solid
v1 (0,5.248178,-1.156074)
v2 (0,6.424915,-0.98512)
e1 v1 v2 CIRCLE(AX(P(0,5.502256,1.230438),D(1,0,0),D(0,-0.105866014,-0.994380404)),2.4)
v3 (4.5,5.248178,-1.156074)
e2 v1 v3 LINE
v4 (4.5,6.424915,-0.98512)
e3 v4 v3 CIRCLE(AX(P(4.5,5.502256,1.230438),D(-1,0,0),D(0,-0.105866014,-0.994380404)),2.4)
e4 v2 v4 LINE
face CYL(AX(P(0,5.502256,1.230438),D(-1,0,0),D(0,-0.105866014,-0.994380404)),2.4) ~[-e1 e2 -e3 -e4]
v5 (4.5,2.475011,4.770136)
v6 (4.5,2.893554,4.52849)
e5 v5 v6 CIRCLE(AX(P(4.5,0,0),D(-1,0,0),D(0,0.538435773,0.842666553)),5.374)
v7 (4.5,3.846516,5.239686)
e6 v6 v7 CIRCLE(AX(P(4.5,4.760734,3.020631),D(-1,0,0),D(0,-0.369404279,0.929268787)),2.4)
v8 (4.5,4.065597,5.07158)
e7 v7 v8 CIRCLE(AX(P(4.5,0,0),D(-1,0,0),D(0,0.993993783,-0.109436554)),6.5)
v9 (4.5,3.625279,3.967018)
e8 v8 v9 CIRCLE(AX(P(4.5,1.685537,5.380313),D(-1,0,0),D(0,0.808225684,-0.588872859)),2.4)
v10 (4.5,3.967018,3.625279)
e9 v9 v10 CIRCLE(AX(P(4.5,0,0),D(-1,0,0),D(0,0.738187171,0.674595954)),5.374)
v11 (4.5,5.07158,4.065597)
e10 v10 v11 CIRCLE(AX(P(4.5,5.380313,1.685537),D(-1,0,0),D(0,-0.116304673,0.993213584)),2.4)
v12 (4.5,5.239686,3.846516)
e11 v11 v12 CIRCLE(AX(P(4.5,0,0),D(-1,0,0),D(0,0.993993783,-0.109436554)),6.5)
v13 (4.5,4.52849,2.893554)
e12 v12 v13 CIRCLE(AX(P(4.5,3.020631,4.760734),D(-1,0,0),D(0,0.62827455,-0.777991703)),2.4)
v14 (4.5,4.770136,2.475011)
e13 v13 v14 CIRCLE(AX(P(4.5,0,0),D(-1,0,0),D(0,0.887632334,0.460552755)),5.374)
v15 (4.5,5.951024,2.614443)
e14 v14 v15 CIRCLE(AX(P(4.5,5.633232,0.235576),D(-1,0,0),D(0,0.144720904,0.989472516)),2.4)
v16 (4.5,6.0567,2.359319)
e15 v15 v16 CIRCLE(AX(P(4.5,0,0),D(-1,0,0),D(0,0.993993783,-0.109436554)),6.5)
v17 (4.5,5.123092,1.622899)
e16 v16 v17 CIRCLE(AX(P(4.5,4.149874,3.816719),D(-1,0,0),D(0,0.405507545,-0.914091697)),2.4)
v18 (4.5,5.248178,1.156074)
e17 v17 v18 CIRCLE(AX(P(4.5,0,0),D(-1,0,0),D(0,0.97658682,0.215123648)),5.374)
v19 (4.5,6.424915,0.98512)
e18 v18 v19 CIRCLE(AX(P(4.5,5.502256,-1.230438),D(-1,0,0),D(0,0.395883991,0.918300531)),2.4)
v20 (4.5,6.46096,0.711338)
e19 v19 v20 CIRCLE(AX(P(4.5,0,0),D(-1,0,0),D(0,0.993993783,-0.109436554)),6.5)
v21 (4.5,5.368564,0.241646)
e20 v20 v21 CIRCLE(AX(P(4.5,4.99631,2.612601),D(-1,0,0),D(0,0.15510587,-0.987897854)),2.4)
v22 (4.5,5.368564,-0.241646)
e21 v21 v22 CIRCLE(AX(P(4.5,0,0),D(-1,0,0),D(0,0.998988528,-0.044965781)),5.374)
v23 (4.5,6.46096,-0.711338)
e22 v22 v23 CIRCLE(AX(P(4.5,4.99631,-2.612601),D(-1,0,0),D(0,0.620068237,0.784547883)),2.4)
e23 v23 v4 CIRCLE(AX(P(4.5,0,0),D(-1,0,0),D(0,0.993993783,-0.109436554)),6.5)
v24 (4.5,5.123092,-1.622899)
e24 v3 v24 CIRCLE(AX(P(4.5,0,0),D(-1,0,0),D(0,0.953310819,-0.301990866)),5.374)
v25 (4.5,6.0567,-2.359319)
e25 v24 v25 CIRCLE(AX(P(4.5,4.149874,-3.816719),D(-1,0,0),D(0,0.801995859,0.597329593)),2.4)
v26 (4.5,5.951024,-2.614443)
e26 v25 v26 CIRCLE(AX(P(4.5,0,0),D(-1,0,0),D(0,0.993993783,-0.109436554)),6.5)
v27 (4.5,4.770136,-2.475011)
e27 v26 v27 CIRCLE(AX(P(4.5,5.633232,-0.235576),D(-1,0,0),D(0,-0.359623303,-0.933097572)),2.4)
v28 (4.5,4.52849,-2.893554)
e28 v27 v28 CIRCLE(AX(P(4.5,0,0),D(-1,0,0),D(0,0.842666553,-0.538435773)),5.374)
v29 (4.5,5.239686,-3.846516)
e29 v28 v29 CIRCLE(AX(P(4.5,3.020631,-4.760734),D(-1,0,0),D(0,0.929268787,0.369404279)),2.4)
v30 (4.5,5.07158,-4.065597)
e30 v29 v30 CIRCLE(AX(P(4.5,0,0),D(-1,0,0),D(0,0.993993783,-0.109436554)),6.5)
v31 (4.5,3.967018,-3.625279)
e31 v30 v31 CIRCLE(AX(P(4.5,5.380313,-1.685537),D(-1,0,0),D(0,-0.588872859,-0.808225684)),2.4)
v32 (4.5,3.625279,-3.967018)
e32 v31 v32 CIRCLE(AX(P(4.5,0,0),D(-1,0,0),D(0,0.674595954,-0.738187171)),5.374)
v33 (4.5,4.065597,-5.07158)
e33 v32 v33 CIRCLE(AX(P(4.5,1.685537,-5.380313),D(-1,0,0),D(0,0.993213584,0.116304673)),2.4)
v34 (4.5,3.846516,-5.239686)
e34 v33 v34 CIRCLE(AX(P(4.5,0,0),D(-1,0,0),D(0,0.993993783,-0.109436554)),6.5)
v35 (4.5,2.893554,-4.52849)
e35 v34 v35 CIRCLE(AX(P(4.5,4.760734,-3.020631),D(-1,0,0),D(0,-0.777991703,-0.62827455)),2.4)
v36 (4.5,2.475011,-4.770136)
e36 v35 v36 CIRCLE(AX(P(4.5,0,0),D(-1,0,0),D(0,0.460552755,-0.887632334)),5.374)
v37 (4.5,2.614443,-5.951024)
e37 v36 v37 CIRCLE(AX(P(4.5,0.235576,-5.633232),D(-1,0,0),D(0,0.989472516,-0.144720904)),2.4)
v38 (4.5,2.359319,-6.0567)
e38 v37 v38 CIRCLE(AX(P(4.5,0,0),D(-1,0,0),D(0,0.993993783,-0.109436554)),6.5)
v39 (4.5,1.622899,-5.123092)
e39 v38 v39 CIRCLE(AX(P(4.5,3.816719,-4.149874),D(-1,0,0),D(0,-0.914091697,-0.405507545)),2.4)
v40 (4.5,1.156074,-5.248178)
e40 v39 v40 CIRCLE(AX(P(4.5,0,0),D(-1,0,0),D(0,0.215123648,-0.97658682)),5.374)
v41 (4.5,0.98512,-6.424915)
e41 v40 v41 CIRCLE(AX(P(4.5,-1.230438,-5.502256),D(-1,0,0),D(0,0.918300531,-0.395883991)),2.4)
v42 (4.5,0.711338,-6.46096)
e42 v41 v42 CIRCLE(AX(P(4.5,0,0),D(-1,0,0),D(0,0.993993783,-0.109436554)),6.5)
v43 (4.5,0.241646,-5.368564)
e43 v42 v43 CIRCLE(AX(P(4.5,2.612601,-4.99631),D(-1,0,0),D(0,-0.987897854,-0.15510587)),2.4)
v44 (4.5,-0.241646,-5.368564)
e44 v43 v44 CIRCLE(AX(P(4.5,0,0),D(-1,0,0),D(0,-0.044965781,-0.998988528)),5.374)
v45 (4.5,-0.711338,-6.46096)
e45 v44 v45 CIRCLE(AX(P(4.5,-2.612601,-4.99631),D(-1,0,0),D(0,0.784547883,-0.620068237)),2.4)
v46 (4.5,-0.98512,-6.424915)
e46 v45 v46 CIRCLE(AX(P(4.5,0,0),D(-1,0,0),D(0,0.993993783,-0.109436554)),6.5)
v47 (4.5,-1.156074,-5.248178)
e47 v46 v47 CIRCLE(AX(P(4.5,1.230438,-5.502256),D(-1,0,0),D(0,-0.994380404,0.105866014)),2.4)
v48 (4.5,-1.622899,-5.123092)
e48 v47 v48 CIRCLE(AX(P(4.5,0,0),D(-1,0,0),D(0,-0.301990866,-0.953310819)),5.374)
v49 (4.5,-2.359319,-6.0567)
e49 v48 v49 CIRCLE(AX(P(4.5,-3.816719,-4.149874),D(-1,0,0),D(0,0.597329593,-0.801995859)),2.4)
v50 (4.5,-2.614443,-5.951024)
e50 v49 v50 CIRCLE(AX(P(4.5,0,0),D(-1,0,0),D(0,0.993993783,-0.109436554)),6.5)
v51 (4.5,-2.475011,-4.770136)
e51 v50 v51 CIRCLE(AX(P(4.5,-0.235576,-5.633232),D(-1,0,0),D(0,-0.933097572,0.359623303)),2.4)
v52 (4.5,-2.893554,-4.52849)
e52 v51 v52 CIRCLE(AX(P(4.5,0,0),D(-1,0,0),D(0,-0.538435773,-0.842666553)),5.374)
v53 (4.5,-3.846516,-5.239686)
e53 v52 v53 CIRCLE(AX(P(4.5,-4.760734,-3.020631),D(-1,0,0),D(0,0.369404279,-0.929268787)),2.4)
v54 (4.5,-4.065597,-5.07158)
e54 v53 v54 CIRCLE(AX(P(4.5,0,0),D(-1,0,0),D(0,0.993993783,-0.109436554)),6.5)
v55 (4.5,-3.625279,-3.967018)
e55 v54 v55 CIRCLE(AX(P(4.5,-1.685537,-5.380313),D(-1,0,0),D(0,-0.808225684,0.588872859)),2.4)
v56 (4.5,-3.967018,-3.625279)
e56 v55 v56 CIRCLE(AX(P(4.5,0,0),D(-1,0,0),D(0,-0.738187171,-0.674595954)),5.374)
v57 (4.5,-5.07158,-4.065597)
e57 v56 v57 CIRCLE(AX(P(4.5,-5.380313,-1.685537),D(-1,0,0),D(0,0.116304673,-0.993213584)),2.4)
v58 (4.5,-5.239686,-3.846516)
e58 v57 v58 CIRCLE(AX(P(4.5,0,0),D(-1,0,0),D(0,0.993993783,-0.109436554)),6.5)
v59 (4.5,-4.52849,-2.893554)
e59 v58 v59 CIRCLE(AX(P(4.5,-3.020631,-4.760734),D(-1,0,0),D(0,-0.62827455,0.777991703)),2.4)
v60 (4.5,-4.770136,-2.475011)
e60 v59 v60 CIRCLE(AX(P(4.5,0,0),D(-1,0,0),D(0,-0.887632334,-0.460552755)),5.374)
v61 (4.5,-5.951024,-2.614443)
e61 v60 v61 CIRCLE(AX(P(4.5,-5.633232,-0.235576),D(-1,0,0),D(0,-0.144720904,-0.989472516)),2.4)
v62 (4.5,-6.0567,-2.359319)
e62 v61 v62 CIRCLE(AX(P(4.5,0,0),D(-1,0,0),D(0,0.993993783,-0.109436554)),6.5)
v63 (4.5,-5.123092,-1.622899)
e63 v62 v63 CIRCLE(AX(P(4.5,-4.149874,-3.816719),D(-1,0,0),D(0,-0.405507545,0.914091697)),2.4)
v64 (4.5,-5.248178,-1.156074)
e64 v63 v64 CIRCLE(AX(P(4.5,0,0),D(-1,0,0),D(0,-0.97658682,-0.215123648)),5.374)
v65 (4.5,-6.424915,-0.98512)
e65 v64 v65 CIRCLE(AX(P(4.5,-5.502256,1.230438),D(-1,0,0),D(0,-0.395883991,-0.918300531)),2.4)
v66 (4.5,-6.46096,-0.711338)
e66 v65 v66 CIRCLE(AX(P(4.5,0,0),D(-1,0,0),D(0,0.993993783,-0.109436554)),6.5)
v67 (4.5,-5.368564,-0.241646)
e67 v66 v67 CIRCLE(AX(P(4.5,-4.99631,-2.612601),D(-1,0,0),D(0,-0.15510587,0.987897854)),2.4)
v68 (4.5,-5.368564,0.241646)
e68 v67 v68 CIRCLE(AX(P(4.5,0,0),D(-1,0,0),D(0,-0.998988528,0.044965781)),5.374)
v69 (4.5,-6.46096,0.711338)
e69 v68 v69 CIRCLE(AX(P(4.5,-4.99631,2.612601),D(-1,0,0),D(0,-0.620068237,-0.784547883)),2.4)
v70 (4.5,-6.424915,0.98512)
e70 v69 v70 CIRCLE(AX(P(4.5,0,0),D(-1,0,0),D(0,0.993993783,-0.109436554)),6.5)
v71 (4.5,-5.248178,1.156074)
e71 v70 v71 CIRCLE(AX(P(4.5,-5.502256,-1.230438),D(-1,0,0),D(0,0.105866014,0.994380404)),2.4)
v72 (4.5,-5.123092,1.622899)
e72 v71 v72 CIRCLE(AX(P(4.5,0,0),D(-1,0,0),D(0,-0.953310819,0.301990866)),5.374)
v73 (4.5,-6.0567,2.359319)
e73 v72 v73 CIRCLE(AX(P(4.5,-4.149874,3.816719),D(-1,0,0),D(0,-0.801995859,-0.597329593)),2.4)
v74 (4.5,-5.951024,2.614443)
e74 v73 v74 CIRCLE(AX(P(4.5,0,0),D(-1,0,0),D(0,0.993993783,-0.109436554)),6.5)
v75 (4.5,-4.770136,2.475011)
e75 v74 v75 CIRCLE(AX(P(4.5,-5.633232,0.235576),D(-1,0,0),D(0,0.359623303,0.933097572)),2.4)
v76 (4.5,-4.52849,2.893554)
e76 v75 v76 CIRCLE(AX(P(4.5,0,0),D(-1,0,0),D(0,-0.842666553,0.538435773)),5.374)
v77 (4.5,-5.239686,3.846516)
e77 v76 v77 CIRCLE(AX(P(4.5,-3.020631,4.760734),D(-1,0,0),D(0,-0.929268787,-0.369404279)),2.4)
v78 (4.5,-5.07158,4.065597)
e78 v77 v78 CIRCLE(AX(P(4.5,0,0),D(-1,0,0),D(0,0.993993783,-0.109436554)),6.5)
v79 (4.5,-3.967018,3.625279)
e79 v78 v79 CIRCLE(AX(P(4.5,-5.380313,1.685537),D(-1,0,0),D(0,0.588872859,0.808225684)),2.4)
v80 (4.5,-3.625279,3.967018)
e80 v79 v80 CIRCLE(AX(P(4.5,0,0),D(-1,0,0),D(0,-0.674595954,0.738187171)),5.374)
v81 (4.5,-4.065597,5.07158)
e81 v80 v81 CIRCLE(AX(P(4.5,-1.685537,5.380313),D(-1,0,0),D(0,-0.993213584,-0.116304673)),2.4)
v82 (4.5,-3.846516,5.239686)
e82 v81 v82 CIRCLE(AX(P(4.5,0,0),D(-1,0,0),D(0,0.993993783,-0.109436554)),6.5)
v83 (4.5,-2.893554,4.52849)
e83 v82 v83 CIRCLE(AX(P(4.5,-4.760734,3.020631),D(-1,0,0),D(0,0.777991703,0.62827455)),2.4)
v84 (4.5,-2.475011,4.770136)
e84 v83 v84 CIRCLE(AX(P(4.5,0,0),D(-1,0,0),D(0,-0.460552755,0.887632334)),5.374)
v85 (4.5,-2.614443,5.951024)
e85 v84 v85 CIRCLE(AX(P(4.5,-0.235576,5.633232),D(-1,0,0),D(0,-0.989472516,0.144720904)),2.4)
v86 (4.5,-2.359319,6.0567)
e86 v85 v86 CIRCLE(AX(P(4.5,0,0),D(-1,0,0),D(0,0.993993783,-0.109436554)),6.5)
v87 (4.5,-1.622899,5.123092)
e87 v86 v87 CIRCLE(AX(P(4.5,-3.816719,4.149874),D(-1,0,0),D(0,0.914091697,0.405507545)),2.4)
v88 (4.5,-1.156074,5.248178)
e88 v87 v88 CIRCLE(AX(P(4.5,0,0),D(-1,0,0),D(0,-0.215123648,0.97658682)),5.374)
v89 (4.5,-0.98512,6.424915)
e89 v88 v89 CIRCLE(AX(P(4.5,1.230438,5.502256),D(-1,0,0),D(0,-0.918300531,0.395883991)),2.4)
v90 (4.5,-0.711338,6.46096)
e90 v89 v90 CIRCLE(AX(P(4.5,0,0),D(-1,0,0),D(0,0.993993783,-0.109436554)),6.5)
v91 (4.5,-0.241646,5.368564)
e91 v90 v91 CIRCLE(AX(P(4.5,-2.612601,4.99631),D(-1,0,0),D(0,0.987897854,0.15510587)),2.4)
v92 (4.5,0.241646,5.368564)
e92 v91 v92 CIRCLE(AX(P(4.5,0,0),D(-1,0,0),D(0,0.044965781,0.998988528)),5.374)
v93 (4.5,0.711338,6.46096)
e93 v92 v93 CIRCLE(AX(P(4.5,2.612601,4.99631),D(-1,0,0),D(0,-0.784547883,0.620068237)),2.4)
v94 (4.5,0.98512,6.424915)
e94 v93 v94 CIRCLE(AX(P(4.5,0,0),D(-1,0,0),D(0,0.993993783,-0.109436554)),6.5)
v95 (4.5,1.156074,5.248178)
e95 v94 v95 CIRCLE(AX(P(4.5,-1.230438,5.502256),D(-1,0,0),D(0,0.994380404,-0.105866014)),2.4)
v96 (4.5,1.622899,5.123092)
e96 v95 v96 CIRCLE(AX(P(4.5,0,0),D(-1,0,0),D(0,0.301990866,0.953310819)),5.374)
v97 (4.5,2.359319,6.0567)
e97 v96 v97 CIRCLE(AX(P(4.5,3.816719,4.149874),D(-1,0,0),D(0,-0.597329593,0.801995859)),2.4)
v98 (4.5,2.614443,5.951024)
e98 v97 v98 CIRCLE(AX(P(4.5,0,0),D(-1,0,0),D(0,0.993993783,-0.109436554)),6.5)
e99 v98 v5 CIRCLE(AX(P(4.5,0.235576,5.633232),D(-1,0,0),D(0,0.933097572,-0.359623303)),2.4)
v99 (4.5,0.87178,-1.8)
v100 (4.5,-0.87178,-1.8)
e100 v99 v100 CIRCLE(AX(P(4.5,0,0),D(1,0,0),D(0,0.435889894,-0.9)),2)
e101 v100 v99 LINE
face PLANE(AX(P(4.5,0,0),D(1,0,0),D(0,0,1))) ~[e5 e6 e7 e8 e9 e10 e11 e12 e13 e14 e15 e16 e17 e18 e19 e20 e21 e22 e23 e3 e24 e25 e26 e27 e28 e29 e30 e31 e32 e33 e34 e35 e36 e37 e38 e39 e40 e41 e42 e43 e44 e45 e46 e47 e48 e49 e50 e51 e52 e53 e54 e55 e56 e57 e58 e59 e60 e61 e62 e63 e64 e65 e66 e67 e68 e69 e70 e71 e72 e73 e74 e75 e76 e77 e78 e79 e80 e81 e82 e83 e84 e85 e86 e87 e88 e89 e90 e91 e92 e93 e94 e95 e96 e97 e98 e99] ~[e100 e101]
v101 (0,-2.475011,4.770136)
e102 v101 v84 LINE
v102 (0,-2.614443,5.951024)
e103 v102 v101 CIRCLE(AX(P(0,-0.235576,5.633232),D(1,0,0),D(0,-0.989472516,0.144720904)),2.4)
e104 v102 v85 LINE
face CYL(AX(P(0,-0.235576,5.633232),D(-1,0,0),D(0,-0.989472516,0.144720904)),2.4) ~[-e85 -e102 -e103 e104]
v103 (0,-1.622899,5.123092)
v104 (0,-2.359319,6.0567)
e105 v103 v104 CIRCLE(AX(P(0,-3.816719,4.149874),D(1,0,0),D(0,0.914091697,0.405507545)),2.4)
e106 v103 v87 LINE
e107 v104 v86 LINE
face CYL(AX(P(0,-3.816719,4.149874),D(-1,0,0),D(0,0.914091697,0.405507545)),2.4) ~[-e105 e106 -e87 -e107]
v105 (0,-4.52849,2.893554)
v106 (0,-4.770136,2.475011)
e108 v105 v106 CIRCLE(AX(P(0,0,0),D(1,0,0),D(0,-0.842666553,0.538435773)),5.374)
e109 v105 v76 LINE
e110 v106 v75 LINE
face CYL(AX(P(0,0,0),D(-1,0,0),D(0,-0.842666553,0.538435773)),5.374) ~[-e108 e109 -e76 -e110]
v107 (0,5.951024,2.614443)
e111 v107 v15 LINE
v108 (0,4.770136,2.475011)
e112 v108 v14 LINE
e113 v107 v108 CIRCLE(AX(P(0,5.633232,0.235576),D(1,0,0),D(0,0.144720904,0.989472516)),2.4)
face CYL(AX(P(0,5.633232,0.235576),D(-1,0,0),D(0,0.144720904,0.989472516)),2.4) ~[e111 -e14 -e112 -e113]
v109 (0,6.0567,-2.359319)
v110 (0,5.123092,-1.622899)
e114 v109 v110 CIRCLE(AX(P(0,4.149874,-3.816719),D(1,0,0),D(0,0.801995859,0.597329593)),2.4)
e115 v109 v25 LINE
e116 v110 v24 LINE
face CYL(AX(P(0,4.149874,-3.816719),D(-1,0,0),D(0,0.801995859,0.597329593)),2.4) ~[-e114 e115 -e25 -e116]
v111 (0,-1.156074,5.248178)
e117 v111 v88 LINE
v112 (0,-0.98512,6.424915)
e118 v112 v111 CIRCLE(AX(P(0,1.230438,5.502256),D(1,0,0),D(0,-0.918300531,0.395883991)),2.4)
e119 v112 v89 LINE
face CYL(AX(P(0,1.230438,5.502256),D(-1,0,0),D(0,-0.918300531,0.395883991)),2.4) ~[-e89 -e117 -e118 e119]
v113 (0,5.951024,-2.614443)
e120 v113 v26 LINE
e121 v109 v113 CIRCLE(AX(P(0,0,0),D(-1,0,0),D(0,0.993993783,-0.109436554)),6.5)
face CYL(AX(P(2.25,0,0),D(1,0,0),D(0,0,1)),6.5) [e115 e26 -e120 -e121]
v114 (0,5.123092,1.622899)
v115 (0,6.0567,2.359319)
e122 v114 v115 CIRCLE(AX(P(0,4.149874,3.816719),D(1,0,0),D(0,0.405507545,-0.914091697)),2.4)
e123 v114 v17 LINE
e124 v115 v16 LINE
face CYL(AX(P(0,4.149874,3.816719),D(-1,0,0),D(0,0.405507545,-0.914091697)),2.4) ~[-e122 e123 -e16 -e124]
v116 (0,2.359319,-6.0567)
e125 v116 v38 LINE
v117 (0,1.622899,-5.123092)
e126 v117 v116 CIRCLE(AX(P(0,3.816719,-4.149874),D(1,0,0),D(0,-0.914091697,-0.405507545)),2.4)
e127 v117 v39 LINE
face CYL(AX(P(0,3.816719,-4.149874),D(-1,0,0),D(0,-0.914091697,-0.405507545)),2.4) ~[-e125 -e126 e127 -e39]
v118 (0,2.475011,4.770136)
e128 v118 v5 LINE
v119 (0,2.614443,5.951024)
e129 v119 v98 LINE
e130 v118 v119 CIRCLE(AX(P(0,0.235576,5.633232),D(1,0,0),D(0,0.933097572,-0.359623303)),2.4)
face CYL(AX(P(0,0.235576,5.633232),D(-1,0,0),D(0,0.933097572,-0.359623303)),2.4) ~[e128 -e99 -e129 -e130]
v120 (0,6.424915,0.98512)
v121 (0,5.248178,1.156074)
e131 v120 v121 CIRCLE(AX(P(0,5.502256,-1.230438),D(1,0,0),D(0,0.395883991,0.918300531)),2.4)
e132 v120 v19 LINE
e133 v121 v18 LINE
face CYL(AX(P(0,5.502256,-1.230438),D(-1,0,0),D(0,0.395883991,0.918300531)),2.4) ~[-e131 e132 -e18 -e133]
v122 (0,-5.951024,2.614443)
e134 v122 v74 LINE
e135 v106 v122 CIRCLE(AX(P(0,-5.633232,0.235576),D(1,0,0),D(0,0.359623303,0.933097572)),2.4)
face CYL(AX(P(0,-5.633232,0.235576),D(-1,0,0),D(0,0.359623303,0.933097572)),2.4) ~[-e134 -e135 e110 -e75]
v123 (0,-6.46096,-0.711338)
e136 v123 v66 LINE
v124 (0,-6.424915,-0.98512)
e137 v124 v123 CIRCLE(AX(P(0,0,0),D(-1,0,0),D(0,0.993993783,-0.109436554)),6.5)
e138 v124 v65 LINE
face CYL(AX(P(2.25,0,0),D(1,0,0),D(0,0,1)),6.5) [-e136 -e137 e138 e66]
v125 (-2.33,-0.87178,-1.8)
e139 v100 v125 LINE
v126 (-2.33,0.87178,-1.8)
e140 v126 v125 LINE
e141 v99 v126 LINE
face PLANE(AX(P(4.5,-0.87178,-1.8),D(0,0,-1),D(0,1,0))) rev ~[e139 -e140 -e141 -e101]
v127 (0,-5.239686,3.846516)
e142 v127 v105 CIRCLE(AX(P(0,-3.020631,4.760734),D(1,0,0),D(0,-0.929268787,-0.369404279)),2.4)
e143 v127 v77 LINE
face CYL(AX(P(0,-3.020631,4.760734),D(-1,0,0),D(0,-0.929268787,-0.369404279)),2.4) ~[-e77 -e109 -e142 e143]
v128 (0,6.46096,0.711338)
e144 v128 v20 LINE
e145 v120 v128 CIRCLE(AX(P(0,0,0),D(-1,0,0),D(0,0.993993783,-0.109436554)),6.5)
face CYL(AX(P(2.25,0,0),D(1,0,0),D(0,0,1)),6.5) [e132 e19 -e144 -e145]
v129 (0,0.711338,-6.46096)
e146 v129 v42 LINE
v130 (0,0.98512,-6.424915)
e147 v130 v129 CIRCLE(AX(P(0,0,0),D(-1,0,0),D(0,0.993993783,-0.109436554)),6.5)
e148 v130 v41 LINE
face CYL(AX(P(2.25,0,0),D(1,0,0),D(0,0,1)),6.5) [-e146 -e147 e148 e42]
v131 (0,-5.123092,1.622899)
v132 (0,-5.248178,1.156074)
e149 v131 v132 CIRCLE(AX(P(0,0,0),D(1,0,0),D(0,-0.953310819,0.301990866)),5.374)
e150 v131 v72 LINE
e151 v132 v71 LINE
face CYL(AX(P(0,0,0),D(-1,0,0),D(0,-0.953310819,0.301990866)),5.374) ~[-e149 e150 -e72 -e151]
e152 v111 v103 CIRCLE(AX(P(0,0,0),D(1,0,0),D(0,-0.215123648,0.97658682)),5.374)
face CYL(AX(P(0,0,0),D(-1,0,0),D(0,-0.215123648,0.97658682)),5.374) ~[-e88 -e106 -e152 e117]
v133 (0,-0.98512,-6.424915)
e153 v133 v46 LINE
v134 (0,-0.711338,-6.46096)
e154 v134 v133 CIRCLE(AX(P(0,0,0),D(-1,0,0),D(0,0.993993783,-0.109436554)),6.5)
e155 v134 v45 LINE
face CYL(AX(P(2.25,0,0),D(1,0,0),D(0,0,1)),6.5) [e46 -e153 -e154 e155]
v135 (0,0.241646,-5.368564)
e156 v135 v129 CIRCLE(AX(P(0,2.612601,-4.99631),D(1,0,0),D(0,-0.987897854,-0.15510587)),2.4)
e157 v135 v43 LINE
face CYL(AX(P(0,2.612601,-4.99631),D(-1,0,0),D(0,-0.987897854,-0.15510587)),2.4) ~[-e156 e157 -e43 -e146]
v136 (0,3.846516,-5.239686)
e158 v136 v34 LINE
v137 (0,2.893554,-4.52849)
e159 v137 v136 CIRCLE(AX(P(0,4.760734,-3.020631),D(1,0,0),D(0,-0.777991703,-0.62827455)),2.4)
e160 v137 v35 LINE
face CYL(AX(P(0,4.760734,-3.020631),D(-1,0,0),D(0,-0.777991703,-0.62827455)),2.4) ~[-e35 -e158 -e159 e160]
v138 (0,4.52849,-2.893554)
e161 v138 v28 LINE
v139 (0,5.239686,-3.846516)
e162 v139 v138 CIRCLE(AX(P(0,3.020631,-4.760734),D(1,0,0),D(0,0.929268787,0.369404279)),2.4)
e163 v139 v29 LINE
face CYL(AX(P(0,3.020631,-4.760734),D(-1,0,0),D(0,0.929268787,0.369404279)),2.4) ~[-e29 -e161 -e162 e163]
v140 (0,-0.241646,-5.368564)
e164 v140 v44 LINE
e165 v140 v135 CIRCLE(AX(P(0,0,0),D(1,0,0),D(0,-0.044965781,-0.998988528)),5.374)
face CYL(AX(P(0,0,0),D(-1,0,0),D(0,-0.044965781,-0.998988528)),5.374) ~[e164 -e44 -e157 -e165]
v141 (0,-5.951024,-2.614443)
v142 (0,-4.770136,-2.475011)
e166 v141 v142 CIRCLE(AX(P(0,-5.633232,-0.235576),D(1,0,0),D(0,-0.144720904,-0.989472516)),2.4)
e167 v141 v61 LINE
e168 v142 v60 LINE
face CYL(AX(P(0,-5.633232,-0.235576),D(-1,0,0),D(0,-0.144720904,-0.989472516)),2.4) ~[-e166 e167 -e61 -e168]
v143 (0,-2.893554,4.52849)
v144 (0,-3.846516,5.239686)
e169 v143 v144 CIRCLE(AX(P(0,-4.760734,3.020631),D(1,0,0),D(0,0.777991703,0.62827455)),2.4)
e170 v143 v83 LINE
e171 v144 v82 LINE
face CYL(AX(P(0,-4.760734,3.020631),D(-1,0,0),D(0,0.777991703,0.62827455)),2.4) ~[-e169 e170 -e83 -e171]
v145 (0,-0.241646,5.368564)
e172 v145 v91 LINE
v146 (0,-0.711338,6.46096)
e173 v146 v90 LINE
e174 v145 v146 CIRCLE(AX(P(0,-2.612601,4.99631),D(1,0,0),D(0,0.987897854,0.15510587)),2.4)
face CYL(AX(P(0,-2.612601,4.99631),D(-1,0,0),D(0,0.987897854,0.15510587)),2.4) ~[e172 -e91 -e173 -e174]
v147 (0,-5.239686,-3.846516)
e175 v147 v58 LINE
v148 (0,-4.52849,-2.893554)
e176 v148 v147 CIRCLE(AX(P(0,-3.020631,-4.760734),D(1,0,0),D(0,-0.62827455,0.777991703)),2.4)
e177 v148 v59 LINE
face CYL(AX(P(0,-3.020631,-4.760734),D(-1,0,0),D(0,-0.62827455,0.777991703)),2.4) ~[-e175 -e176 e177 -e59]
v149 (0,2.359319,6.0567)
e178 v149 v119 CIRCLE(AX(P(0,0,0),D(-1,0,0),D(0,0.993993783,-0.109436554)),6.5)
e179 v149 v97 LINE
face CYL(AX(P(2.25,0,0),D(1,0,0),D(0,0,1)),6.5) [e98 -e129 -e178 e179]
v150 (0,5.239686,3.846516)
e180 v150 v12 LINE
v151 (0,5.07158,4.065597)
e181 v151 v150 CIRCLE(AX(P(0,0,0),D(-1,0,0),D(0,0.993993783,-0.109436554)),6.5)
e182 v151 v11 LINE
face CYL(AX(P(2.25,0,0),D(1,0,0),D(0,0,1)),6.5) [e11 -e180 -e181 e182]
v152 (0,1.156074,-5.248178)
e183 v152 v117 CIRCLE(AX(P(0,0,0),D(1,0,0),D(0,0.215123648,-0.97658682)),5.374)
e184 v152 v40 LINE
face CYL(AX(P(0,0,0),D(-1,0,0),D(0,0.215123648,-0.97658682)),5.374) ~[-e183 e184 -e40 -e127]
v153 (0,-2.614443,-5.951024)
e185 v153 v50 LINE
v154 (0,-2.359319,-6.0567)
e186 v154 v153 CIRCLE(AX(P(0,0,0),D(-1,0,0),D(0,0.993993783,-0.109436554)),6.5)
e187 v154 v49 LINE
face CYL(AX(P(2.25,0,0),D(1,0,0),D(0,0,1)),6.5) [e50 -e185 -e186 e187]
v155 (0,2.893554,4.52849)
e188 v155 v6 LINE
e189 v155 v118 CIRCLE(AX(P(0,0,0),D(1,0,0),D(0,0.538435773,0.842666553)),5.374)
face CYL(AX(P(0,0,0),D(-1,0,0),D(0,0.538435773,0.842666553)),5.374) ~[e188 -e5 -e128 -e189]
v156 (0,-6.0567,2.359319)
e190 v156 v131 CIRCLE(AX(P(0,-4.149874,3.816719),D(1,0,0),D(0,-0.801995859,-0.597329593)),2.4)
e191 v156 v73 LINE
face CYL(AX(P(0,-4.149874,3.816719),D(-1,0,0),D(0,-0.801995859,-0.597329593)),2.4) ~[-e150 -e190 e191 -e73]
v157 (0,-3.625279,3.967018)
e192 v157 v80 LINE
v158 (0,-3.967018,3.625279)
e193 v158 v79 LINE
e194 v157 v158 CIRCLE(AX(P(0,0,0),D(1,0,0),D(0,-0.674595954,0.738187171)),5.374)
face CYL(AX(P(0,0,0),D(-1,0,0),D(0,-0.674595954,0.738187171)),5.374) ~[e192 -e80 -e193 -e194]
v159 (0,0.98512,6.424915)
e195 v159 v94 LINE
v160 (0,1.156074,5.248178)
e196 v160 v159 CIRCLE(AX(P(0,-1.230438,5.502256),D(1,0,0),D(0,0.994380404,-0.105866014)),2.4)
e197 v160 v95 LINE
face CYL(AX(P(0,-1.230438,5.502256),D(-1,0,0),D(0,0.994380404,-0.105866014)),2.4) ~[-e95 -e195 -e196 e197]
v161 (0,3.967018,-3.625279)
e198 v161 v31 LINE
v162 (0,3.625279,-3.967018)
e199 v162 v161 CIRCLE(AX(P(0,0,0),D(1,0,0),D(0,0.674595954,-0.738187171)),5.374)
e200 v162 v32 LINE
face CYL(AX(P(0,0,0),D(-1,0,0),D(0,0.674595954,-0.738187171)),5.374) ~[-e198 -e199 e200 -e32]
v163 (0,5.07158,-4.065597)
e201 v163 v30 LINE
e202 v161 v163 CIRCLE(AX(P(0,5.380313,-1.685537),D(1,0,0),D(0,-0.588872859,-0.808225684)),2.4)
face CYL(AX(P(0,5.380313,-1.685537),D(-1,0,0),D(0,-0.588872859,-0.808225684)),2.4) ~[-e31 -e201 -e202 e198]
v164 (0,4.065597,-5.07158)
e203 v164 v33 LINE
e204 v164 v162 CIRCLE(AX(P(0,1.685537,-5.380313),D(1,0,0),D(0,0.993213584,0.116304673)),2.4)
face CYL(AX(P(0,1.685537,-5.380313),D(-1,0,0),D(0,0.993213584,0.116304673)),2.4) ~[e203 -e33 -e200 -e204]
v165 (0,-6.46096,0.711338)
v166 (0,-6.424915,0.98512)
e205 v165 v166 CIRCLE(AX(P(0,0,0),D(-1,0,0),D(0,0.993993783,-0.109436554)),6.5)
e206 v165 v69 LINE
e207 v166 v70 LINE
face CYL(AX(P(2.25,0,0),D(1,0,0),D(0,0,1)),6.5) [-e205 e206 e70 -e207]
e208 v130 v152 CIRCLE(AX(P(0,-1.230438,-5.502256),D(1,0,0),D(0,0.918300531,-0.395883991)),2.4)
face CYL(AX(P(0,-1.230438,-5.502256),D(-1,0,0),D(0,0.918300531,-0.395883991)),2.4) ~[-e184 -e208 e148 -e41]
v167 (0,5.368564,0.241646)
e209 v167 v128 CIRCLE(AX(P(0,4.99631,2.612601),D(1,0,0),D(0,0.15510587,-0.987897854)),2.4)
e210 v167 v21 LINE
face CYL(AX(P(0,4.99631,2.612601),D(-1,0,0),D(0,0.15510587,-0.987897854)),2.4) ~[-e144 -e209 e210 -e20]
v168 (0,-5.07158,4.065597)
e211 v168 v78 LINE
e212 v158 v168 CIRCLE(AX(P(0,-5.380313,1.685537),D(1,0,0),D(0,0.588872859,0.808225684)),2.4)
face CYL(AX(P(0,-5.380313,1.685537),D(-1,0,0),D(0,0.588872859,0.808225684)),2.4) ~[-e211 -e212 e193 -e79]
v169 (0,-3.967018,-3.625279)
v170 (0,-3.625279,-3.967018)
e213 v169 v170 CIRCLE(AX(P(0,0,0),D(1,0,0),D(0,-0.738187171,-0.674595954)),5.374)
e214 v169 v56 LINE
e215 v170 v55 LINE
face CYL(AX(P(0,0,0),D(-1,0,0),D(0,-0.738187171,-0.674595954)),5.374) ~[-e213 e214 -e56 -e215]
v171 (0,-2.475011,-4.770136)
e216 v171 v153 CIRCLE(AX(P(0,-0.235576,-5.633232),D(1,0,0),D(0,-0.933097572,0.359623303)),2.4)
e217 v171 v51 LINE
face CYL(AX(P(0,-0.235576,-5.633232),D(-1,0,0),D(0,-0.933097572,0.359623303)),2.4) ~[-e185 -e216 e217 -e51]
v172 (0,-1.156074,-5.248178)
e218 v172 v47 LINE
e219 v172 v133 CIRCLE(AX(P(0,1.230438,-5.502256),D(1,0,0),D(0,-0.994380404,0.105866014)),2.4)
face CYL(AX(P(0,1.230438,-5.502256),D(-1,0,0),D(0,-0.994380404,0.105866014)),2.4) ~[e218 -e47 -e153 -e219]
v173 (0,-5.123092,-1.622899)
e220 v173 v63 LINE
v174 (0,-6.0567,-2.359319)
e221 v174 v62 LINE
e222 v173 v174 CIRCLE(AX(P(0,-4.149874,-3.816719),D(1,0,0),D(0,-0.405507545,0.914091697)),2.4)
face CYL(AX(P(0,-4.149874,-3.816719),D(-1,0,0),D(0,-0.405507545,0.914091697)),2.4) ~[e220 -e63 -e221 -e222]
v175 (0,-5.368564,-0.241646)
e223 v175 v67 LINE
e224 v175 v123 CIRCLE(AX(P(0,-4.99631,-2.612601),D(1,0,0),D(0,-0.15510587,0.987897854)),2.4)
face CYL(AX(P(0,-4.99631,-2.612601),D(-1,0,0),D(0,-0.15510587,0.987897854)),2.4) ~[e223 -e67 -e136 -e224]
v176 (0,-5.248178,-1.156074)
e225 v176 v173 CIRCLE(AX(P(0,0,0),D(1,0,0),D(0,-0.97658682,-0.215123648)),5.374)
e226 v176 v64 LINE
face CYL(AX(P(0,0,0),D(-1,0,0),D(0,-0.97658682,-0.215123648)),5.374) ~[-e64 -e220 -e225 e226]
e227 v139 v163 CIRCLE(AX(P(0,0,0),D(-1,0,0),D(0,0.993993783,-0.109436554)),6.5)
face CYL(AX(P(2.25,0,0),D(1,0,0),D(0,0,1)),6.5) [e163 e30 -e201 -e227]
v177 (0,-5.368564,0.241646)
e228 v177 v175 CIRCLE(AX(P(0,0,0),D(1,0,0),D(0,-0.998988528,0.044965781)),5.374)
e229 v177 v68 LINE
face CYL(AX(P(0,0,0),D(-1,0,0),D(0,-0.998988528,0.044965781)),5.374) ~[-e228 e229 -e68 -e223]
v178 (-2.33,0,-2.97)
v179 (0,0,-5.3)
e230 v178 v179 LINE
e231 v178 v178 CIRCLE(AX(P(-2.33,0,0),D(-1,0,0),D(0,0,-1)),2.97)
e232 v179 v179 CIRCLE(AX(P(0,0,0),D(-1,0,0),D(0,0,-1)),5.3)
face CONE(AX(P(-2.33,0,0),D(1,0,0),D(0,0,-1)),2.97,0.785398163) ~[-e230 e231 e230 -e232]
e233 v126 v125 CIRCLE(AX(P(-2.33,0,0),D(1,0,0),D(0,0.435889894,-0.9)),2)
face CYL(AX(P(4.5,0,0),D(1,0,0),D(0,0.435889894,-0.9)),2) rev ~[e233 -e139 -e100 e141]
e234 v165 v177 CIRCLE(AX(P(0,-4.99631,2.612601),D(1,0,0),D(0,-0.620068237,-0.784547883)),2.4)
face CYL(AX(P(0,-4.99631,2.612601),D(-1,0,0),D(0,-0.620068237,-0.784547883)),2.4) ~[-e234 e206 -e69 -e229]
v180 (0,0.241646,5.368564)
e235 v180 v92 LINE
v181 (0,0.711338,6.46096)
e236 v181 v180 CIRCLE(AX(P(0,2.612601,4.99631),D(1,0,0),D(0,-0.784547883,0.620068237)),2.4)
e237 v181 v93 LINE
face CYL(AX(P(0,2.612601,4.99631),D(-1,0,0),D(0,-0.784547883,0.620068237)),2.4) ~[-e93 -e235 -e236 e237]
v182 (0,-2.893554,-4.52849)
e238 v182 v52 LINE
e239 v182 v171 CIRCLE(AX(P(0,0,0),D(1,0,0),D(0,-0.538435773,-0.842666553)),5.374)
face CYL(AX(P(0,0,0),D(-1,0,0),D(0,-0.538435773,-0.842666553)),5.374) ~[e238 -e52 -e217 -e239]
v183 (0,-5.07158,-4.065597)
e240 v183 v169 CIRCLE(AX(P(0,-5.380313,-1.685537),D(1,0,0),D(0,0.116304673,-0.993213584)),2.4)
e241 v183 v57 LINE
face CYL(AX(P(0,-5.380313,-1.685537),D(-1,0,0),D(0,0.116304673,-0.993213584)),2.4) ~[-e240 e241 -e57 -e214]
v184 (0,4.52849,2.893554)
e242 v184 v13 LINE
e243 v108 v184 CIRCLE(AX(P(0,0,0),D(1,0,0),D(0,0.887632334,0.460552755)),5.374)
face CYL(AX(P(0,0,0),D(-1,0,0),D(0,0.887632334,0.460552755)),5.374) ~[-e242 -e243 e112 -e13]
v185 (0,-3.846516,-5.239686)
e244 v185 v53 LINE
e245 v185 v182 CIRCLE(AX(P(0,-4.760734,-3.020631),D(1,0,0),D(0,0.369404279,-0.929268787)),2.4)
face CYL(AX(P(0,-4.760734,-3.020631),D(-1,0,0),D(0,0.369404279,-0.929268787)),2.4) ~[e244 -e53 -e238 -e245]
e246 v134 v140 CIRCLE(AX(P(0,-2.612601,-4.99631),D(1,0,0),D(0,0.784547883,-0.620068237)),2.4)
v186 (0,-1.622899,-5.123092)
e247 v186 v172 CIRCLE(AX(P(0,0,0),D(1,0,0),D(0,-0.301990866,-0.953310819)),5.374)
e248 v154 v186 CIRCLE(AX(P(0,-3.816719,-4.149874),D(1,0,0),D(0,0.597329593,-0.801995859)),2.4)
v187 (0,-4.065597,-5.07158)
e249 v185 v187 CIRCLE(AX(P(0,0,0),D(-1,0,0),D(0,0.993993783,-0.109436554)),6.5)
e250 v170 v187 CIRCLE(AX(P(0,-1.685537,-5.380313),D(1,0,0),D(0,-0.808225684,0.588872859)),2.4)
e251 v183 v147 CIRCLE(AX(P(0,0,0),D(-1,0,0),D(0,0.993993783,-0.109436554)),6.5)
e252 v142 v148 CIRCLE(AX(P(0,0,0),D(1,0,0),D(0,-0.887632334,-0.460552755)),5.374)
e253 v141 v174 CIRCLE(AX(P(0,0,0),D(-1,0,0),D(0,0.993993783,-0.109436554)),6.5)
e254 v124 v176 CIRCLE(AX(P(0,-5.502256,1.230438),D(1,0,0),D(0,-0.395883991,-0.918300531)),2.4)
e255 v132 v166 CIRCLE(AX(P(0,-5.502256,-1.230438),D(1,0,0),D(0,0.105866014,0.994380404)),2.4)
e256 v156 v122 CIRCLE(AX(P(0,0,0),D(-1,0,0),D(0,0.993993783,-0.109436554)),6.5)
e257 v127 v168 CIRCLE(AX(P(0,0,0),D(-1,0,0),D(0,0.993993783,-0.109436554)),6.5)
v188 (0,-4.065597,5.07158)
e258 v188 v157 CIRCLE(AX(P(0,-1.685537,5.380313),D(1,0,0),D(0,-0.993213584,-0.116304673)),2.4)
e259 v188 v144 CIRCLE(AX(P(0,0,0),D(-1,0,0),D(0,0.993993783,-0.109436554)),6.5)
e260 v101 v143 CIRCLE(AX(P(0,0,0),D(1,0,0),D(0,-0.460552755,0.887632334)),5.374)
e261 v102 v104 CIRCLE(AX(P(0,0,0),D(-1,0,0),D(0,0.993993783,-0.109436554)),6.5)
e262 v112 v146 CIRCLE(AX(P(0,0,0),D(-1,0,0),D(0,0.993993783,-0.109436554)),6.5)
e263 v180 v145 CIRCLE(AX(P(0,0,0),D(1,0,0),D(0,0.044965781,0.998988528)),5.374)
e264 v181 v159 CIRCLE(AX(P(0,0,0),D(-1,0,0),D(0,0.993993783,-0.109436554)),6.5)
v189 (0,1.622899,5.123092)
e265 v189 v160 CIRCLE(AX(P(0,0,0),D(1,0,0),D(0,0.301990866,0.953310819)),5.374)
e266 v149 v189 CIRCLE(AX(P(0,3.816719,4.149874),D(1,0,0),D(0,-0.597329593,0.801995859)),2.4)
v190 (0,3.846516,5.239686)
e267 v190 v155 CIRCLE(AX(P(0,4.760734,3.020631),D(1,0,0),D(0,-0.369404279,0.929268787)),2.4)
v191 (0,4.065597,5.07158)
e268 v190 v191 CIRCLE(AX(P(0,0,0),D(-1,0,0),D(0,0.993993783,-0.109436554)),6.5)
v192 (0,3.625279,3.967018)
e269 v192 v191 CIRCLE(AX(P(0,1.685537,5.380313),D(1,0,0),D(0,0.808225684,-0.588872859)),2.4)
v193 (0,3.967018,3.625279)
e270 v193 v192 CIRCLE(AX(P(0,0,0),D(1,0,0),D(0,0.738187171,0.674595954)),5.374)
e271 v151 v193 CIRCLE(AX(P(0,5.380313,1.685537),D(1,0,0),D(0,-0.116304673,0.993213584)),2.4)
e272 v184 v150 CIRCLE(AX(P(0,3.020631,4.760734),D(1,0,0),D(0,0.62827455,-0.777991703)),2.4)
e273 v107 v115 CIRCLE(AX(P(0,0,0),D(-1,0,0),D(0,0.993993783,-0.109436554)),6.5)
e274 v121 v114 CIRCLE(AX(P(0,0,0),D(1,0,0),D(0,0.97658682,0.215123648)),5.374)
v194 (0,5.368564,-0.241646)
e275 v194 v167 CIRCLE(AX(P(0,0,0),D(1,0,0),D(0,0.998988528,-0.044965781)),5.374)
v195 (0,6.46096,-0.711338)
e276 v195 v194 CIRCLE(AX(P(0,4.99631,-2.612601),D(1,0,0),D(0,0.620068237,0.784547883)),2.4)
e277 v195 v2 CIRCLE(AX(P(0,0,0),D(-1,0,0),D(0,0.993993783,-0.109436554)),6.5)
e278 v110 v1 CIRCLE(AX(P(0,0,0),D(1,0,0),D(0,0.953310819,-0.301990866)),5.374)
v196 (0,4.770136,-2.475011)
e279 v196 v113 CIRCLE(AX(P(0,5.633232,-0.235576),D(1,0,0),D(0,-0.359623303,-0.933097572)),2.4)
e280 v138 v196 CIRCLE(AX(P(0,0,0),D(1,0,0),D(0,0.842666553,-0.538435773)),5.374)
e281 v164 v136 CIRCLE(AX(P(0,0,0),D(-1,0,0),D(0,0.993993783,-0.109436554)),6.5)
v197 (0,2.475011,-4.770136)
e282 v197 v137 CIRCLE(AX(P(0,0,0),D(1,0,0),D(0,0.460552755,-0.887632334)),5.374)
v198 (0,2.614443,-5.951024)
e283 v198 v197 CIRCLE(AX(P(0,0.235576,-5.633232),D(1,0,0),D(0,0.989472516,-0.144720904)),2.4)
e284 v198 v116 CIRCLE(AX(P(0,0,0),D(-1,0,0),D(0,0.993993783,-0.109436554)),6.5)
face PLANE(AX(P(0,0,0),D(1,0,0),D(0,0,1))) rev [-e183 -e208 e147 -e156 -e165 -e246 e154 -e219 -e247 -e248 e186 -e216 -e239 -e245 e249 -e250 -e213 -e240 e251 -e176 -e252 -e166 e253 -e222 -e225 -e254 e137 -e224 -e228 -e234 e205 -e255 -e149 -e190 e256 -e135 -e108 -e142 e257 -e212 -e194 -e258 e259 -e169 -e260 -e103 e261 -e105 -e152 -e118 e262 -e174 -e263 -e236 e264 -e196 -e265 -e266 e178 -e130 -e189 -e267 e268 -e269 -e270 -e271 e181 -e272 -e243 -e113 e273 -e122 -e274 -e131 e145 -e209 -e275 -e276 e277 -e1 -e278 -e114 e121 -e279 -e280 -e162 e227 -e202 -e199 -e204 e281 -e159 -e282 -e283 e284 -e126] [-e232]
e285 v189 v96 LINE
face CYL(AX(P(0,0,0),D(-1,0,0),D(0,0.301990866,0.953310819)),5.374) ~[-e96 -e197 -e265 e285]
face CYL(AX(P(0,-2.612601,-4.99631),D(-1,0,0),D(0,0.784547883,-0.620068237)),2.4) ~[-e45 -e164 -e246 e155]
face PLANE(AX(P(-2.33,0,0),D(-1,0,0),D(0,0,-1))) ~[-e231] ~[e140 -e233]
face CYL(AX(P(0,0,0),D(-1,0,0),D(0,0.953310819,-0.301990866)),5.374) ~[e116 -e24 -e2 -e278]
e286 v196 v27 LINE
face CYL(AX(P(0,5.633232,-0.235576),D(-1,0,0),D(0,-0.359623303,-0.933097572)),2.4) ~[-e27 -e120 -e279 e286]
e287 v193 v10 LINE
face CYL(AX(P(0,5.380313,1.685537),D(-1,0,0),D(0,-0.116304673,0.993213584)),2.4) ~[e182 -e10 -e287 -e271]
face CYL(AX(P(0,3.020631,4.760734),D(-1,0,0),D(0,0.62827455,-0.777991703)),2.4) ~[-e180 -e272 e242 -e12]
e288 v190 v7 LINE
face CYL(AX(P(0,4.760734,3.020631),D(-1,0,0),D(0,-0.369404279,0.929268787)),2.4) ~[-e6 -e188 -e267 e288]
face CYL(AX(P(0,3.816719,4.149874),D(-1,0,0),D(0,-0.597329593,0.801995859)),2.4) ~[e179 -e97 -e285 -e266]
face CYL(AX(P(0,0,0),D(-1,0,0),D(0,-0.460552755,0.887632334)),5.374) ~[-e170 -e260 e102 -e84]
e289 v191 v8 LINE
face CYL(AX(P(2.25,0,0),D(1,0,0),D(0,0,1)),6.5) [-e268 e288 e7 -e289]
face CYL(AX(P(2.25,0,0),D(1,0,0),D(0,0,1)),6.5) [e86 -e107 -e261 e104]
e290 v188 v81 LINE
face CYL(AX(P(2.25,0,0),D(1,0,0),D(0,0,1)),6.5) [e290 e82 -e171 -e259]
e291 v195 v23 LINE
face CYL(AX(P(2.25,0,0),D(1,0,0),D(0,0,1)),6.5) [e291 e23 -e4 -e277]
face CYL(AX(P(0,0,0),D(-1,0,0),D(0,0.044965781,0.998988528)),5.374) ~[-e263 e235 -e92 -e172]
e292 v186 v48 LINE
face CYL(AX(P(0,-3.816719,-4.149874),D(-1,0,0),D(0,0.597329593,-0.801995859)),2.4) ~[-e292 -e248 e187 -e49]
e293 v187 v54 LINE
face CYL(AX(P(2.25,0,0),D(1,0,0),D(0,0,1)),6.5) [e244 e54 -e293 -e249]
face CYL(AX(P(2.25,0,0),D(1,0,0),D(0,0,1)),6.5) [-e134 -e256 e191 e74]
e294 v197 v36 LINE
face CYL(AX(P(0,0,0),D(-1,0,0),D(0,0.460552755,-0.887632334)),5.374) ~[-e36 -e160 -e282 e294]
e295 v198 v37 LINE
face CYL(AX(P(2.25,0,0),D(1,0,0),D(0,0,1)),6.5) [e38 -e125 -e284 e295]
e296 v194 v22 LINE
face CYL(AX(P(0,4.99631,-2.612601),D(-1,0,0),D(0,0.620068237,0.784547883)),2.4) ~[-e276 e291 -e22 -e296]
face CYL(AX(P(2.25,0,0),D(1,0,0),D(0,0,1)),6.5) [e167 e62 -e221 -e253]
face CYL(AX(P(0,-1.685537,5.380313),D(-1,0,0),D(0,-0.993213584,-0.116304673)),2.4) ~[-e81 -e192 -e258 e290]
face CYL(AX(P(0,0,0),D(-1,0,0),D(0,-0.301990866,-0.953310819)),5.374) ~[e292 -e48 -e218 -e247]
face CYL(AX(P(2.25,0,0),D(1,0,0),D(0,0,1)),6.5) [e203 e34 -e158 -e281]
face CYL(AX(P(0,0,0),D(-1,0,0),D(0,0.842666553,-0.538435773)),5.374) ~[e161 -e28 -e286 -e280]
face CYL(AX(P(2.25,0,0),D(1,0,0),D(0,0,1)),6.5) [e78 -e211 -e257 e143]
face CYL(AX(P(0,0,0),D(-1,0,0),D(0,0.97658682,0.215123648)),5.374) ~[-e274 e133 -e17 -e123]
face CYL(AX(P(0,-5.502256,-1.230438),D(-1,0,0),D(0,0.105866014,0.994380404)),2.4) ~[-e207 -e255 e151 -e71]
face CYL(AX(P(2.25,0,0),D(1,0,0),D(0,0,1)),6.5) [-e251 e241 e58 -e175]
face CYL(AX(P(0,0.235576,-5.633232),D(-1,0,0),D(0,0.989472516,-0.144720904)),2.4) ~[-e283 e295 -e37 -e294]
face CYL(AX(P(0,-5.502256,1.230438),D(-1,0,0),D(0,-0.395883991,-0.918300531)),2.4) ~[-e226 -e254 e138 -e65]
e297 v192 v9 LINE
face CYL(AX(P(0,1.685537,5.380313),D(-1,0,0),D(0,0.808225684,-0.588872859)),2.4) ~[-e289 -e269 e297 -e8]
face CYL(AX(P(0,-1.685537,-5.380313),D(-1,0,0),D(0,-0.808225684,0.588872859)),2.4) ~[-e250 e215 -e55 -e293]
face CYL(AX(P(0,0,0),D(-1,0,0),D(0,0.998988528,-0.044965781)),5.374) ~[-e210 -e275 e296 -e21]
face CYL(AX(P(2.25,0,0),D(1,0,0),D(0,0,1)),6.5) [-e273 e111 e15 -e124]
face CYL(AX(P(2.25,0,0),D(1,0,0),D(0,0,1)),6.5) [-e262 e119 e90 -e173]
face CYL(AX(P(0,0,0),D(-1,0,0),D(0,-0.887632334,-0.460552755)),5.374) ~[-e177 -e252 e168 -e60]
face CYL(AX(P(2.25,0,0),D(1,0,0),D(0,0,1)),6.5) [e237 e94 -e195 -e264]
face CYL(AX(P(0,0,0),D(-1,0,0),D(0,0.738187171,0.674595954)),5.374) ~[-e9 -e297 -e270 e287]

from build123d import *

# Parameters (mm, degrees)
BASPROSKE_W         = 4.5
BASPROSKE_H         = 6.5
TOOTHCUT_DEPTH      = 11.234744745
TEETHCUTS_COUNT     = 24
TEETHCUTS_ANGLE     = 345
BORSKE_R            = 1.5
BORE_DEPTH          = 50.0000508
CUT_EXTRUDE_1_REACH = 13.408


with BuildPart() as part:
    # BasProSke → Base-Revolve (revolve)
    with BuildSketch(Plane(origin=(0, 0, 0), x_dir=(1, 0, 0), z_dir=(0, 1, 0)), mode=Mode.PRIVATE) as base_revolve_sk:
        with Locations((2.25, 3.25)):
            Rectangle(BASPROSKE_W, BASPROSKE_H)
    revolve(base_revolve_sk.sketch.rotate(Axis((-10, 0, 0), (1, 0, 0)), 180), axis=Axis((-10, 0, 0), (1, 0, 0)))

    # TooCutSke → ToothCut (cut, through all)
    with BuildSketch(Plane(origin=(0, 0, 0), x_dir=(0, 0, -1), z_dir=(1, 0, 0))):
        with BuildLine():
            ThreePointArc((0.241646108, 5.368564348), (0, 5.374), (-0.241646108, 5.368564348))
            ThreePointArc((-0.241646108, 5.368564348), (-0.413699957, 5.957993365), (-0.729686037, 6.48447403))
            ThreePointArc((-0.729686037, 6.48447403), (0, 6.5254), (0.729686037, 6.48447403))
            ThreePointArc((0.729686037, 6.48447403), (0.413699957, 5.957993365), (0.241646108, 5.368564348))
        make_face()
    toothcut = extrude(amount=TOOTHCUT_DEPTH, mode=Mode.SUBTRACT)

    # TeethCuts: ToothCut ×24 about axis
    teethcuts_axis = Axis((-10, 0, 0), (1, 0, 0))
    for i in range(1, TEETHCUTS_COUNT):
        add(toothcut.rotate(teethcuts_axis, i * TEETHCUTS_ANGLE / (TEETHCUTS_COUNT - 1)), mode=Mode.SUBTRACT)

    # BorSke → Bore (cut, symmetric)
    with BuildSketch(Plane(origin=(0, 0, 0), x_dir=(0, 0, -1), z_dir=(1, 0, 0))):
        with Locations(Location((0, 0, 0), (0, 0, 180))):
            Circle(BORSKE_R)
    extrude(amount=BORE_DEPTH, both=True, mode=Mode.SUBTRACT)

    # 草图1 → 旋转1 (revolve)
    with BuildSketch(Plane(origin=(0, 0, 0), x_dir=(1, 0, 0), z_dir=(0, 1, 0))):
        Polygon((0, 0), (-2.33, 0), (-2.33, 2.97), (0, 5.3), align=None)
    revolve(axis=Axis((0, 0, 0), (-1, 0, 0)))

    # 草图2 → 切除-拉伸1 (cut, up to next)
    with BuildSketch(Plane(origin=(4.5, 0, 0), x_dir=(0, 0, -1), z_dir=(1, 0, 0)), mode=Mode.PRIVATE) as cut_extrude_1_sk1:
        with BuildLine():
            Line((1.8, -0.871779789), (1.8, 0.871779789))
            ThreePointArc((1.8, 0.871779789), (-2, 0), (1.8, -0.871779789))
        make_face()
    cut_extrude_1_tool1 = extrude(cut_extrude_1_sk1.sketch, amount=-CUT_EXTRUDE_1_REACH, mode=Mode.PRIVATE) & part.part
    add(cut_extrude_1_tool1.solids().sort_by_distance((4.5, 0, 0.035819))[0], mode=Mode.SUBTRACT)


solid = part.part
